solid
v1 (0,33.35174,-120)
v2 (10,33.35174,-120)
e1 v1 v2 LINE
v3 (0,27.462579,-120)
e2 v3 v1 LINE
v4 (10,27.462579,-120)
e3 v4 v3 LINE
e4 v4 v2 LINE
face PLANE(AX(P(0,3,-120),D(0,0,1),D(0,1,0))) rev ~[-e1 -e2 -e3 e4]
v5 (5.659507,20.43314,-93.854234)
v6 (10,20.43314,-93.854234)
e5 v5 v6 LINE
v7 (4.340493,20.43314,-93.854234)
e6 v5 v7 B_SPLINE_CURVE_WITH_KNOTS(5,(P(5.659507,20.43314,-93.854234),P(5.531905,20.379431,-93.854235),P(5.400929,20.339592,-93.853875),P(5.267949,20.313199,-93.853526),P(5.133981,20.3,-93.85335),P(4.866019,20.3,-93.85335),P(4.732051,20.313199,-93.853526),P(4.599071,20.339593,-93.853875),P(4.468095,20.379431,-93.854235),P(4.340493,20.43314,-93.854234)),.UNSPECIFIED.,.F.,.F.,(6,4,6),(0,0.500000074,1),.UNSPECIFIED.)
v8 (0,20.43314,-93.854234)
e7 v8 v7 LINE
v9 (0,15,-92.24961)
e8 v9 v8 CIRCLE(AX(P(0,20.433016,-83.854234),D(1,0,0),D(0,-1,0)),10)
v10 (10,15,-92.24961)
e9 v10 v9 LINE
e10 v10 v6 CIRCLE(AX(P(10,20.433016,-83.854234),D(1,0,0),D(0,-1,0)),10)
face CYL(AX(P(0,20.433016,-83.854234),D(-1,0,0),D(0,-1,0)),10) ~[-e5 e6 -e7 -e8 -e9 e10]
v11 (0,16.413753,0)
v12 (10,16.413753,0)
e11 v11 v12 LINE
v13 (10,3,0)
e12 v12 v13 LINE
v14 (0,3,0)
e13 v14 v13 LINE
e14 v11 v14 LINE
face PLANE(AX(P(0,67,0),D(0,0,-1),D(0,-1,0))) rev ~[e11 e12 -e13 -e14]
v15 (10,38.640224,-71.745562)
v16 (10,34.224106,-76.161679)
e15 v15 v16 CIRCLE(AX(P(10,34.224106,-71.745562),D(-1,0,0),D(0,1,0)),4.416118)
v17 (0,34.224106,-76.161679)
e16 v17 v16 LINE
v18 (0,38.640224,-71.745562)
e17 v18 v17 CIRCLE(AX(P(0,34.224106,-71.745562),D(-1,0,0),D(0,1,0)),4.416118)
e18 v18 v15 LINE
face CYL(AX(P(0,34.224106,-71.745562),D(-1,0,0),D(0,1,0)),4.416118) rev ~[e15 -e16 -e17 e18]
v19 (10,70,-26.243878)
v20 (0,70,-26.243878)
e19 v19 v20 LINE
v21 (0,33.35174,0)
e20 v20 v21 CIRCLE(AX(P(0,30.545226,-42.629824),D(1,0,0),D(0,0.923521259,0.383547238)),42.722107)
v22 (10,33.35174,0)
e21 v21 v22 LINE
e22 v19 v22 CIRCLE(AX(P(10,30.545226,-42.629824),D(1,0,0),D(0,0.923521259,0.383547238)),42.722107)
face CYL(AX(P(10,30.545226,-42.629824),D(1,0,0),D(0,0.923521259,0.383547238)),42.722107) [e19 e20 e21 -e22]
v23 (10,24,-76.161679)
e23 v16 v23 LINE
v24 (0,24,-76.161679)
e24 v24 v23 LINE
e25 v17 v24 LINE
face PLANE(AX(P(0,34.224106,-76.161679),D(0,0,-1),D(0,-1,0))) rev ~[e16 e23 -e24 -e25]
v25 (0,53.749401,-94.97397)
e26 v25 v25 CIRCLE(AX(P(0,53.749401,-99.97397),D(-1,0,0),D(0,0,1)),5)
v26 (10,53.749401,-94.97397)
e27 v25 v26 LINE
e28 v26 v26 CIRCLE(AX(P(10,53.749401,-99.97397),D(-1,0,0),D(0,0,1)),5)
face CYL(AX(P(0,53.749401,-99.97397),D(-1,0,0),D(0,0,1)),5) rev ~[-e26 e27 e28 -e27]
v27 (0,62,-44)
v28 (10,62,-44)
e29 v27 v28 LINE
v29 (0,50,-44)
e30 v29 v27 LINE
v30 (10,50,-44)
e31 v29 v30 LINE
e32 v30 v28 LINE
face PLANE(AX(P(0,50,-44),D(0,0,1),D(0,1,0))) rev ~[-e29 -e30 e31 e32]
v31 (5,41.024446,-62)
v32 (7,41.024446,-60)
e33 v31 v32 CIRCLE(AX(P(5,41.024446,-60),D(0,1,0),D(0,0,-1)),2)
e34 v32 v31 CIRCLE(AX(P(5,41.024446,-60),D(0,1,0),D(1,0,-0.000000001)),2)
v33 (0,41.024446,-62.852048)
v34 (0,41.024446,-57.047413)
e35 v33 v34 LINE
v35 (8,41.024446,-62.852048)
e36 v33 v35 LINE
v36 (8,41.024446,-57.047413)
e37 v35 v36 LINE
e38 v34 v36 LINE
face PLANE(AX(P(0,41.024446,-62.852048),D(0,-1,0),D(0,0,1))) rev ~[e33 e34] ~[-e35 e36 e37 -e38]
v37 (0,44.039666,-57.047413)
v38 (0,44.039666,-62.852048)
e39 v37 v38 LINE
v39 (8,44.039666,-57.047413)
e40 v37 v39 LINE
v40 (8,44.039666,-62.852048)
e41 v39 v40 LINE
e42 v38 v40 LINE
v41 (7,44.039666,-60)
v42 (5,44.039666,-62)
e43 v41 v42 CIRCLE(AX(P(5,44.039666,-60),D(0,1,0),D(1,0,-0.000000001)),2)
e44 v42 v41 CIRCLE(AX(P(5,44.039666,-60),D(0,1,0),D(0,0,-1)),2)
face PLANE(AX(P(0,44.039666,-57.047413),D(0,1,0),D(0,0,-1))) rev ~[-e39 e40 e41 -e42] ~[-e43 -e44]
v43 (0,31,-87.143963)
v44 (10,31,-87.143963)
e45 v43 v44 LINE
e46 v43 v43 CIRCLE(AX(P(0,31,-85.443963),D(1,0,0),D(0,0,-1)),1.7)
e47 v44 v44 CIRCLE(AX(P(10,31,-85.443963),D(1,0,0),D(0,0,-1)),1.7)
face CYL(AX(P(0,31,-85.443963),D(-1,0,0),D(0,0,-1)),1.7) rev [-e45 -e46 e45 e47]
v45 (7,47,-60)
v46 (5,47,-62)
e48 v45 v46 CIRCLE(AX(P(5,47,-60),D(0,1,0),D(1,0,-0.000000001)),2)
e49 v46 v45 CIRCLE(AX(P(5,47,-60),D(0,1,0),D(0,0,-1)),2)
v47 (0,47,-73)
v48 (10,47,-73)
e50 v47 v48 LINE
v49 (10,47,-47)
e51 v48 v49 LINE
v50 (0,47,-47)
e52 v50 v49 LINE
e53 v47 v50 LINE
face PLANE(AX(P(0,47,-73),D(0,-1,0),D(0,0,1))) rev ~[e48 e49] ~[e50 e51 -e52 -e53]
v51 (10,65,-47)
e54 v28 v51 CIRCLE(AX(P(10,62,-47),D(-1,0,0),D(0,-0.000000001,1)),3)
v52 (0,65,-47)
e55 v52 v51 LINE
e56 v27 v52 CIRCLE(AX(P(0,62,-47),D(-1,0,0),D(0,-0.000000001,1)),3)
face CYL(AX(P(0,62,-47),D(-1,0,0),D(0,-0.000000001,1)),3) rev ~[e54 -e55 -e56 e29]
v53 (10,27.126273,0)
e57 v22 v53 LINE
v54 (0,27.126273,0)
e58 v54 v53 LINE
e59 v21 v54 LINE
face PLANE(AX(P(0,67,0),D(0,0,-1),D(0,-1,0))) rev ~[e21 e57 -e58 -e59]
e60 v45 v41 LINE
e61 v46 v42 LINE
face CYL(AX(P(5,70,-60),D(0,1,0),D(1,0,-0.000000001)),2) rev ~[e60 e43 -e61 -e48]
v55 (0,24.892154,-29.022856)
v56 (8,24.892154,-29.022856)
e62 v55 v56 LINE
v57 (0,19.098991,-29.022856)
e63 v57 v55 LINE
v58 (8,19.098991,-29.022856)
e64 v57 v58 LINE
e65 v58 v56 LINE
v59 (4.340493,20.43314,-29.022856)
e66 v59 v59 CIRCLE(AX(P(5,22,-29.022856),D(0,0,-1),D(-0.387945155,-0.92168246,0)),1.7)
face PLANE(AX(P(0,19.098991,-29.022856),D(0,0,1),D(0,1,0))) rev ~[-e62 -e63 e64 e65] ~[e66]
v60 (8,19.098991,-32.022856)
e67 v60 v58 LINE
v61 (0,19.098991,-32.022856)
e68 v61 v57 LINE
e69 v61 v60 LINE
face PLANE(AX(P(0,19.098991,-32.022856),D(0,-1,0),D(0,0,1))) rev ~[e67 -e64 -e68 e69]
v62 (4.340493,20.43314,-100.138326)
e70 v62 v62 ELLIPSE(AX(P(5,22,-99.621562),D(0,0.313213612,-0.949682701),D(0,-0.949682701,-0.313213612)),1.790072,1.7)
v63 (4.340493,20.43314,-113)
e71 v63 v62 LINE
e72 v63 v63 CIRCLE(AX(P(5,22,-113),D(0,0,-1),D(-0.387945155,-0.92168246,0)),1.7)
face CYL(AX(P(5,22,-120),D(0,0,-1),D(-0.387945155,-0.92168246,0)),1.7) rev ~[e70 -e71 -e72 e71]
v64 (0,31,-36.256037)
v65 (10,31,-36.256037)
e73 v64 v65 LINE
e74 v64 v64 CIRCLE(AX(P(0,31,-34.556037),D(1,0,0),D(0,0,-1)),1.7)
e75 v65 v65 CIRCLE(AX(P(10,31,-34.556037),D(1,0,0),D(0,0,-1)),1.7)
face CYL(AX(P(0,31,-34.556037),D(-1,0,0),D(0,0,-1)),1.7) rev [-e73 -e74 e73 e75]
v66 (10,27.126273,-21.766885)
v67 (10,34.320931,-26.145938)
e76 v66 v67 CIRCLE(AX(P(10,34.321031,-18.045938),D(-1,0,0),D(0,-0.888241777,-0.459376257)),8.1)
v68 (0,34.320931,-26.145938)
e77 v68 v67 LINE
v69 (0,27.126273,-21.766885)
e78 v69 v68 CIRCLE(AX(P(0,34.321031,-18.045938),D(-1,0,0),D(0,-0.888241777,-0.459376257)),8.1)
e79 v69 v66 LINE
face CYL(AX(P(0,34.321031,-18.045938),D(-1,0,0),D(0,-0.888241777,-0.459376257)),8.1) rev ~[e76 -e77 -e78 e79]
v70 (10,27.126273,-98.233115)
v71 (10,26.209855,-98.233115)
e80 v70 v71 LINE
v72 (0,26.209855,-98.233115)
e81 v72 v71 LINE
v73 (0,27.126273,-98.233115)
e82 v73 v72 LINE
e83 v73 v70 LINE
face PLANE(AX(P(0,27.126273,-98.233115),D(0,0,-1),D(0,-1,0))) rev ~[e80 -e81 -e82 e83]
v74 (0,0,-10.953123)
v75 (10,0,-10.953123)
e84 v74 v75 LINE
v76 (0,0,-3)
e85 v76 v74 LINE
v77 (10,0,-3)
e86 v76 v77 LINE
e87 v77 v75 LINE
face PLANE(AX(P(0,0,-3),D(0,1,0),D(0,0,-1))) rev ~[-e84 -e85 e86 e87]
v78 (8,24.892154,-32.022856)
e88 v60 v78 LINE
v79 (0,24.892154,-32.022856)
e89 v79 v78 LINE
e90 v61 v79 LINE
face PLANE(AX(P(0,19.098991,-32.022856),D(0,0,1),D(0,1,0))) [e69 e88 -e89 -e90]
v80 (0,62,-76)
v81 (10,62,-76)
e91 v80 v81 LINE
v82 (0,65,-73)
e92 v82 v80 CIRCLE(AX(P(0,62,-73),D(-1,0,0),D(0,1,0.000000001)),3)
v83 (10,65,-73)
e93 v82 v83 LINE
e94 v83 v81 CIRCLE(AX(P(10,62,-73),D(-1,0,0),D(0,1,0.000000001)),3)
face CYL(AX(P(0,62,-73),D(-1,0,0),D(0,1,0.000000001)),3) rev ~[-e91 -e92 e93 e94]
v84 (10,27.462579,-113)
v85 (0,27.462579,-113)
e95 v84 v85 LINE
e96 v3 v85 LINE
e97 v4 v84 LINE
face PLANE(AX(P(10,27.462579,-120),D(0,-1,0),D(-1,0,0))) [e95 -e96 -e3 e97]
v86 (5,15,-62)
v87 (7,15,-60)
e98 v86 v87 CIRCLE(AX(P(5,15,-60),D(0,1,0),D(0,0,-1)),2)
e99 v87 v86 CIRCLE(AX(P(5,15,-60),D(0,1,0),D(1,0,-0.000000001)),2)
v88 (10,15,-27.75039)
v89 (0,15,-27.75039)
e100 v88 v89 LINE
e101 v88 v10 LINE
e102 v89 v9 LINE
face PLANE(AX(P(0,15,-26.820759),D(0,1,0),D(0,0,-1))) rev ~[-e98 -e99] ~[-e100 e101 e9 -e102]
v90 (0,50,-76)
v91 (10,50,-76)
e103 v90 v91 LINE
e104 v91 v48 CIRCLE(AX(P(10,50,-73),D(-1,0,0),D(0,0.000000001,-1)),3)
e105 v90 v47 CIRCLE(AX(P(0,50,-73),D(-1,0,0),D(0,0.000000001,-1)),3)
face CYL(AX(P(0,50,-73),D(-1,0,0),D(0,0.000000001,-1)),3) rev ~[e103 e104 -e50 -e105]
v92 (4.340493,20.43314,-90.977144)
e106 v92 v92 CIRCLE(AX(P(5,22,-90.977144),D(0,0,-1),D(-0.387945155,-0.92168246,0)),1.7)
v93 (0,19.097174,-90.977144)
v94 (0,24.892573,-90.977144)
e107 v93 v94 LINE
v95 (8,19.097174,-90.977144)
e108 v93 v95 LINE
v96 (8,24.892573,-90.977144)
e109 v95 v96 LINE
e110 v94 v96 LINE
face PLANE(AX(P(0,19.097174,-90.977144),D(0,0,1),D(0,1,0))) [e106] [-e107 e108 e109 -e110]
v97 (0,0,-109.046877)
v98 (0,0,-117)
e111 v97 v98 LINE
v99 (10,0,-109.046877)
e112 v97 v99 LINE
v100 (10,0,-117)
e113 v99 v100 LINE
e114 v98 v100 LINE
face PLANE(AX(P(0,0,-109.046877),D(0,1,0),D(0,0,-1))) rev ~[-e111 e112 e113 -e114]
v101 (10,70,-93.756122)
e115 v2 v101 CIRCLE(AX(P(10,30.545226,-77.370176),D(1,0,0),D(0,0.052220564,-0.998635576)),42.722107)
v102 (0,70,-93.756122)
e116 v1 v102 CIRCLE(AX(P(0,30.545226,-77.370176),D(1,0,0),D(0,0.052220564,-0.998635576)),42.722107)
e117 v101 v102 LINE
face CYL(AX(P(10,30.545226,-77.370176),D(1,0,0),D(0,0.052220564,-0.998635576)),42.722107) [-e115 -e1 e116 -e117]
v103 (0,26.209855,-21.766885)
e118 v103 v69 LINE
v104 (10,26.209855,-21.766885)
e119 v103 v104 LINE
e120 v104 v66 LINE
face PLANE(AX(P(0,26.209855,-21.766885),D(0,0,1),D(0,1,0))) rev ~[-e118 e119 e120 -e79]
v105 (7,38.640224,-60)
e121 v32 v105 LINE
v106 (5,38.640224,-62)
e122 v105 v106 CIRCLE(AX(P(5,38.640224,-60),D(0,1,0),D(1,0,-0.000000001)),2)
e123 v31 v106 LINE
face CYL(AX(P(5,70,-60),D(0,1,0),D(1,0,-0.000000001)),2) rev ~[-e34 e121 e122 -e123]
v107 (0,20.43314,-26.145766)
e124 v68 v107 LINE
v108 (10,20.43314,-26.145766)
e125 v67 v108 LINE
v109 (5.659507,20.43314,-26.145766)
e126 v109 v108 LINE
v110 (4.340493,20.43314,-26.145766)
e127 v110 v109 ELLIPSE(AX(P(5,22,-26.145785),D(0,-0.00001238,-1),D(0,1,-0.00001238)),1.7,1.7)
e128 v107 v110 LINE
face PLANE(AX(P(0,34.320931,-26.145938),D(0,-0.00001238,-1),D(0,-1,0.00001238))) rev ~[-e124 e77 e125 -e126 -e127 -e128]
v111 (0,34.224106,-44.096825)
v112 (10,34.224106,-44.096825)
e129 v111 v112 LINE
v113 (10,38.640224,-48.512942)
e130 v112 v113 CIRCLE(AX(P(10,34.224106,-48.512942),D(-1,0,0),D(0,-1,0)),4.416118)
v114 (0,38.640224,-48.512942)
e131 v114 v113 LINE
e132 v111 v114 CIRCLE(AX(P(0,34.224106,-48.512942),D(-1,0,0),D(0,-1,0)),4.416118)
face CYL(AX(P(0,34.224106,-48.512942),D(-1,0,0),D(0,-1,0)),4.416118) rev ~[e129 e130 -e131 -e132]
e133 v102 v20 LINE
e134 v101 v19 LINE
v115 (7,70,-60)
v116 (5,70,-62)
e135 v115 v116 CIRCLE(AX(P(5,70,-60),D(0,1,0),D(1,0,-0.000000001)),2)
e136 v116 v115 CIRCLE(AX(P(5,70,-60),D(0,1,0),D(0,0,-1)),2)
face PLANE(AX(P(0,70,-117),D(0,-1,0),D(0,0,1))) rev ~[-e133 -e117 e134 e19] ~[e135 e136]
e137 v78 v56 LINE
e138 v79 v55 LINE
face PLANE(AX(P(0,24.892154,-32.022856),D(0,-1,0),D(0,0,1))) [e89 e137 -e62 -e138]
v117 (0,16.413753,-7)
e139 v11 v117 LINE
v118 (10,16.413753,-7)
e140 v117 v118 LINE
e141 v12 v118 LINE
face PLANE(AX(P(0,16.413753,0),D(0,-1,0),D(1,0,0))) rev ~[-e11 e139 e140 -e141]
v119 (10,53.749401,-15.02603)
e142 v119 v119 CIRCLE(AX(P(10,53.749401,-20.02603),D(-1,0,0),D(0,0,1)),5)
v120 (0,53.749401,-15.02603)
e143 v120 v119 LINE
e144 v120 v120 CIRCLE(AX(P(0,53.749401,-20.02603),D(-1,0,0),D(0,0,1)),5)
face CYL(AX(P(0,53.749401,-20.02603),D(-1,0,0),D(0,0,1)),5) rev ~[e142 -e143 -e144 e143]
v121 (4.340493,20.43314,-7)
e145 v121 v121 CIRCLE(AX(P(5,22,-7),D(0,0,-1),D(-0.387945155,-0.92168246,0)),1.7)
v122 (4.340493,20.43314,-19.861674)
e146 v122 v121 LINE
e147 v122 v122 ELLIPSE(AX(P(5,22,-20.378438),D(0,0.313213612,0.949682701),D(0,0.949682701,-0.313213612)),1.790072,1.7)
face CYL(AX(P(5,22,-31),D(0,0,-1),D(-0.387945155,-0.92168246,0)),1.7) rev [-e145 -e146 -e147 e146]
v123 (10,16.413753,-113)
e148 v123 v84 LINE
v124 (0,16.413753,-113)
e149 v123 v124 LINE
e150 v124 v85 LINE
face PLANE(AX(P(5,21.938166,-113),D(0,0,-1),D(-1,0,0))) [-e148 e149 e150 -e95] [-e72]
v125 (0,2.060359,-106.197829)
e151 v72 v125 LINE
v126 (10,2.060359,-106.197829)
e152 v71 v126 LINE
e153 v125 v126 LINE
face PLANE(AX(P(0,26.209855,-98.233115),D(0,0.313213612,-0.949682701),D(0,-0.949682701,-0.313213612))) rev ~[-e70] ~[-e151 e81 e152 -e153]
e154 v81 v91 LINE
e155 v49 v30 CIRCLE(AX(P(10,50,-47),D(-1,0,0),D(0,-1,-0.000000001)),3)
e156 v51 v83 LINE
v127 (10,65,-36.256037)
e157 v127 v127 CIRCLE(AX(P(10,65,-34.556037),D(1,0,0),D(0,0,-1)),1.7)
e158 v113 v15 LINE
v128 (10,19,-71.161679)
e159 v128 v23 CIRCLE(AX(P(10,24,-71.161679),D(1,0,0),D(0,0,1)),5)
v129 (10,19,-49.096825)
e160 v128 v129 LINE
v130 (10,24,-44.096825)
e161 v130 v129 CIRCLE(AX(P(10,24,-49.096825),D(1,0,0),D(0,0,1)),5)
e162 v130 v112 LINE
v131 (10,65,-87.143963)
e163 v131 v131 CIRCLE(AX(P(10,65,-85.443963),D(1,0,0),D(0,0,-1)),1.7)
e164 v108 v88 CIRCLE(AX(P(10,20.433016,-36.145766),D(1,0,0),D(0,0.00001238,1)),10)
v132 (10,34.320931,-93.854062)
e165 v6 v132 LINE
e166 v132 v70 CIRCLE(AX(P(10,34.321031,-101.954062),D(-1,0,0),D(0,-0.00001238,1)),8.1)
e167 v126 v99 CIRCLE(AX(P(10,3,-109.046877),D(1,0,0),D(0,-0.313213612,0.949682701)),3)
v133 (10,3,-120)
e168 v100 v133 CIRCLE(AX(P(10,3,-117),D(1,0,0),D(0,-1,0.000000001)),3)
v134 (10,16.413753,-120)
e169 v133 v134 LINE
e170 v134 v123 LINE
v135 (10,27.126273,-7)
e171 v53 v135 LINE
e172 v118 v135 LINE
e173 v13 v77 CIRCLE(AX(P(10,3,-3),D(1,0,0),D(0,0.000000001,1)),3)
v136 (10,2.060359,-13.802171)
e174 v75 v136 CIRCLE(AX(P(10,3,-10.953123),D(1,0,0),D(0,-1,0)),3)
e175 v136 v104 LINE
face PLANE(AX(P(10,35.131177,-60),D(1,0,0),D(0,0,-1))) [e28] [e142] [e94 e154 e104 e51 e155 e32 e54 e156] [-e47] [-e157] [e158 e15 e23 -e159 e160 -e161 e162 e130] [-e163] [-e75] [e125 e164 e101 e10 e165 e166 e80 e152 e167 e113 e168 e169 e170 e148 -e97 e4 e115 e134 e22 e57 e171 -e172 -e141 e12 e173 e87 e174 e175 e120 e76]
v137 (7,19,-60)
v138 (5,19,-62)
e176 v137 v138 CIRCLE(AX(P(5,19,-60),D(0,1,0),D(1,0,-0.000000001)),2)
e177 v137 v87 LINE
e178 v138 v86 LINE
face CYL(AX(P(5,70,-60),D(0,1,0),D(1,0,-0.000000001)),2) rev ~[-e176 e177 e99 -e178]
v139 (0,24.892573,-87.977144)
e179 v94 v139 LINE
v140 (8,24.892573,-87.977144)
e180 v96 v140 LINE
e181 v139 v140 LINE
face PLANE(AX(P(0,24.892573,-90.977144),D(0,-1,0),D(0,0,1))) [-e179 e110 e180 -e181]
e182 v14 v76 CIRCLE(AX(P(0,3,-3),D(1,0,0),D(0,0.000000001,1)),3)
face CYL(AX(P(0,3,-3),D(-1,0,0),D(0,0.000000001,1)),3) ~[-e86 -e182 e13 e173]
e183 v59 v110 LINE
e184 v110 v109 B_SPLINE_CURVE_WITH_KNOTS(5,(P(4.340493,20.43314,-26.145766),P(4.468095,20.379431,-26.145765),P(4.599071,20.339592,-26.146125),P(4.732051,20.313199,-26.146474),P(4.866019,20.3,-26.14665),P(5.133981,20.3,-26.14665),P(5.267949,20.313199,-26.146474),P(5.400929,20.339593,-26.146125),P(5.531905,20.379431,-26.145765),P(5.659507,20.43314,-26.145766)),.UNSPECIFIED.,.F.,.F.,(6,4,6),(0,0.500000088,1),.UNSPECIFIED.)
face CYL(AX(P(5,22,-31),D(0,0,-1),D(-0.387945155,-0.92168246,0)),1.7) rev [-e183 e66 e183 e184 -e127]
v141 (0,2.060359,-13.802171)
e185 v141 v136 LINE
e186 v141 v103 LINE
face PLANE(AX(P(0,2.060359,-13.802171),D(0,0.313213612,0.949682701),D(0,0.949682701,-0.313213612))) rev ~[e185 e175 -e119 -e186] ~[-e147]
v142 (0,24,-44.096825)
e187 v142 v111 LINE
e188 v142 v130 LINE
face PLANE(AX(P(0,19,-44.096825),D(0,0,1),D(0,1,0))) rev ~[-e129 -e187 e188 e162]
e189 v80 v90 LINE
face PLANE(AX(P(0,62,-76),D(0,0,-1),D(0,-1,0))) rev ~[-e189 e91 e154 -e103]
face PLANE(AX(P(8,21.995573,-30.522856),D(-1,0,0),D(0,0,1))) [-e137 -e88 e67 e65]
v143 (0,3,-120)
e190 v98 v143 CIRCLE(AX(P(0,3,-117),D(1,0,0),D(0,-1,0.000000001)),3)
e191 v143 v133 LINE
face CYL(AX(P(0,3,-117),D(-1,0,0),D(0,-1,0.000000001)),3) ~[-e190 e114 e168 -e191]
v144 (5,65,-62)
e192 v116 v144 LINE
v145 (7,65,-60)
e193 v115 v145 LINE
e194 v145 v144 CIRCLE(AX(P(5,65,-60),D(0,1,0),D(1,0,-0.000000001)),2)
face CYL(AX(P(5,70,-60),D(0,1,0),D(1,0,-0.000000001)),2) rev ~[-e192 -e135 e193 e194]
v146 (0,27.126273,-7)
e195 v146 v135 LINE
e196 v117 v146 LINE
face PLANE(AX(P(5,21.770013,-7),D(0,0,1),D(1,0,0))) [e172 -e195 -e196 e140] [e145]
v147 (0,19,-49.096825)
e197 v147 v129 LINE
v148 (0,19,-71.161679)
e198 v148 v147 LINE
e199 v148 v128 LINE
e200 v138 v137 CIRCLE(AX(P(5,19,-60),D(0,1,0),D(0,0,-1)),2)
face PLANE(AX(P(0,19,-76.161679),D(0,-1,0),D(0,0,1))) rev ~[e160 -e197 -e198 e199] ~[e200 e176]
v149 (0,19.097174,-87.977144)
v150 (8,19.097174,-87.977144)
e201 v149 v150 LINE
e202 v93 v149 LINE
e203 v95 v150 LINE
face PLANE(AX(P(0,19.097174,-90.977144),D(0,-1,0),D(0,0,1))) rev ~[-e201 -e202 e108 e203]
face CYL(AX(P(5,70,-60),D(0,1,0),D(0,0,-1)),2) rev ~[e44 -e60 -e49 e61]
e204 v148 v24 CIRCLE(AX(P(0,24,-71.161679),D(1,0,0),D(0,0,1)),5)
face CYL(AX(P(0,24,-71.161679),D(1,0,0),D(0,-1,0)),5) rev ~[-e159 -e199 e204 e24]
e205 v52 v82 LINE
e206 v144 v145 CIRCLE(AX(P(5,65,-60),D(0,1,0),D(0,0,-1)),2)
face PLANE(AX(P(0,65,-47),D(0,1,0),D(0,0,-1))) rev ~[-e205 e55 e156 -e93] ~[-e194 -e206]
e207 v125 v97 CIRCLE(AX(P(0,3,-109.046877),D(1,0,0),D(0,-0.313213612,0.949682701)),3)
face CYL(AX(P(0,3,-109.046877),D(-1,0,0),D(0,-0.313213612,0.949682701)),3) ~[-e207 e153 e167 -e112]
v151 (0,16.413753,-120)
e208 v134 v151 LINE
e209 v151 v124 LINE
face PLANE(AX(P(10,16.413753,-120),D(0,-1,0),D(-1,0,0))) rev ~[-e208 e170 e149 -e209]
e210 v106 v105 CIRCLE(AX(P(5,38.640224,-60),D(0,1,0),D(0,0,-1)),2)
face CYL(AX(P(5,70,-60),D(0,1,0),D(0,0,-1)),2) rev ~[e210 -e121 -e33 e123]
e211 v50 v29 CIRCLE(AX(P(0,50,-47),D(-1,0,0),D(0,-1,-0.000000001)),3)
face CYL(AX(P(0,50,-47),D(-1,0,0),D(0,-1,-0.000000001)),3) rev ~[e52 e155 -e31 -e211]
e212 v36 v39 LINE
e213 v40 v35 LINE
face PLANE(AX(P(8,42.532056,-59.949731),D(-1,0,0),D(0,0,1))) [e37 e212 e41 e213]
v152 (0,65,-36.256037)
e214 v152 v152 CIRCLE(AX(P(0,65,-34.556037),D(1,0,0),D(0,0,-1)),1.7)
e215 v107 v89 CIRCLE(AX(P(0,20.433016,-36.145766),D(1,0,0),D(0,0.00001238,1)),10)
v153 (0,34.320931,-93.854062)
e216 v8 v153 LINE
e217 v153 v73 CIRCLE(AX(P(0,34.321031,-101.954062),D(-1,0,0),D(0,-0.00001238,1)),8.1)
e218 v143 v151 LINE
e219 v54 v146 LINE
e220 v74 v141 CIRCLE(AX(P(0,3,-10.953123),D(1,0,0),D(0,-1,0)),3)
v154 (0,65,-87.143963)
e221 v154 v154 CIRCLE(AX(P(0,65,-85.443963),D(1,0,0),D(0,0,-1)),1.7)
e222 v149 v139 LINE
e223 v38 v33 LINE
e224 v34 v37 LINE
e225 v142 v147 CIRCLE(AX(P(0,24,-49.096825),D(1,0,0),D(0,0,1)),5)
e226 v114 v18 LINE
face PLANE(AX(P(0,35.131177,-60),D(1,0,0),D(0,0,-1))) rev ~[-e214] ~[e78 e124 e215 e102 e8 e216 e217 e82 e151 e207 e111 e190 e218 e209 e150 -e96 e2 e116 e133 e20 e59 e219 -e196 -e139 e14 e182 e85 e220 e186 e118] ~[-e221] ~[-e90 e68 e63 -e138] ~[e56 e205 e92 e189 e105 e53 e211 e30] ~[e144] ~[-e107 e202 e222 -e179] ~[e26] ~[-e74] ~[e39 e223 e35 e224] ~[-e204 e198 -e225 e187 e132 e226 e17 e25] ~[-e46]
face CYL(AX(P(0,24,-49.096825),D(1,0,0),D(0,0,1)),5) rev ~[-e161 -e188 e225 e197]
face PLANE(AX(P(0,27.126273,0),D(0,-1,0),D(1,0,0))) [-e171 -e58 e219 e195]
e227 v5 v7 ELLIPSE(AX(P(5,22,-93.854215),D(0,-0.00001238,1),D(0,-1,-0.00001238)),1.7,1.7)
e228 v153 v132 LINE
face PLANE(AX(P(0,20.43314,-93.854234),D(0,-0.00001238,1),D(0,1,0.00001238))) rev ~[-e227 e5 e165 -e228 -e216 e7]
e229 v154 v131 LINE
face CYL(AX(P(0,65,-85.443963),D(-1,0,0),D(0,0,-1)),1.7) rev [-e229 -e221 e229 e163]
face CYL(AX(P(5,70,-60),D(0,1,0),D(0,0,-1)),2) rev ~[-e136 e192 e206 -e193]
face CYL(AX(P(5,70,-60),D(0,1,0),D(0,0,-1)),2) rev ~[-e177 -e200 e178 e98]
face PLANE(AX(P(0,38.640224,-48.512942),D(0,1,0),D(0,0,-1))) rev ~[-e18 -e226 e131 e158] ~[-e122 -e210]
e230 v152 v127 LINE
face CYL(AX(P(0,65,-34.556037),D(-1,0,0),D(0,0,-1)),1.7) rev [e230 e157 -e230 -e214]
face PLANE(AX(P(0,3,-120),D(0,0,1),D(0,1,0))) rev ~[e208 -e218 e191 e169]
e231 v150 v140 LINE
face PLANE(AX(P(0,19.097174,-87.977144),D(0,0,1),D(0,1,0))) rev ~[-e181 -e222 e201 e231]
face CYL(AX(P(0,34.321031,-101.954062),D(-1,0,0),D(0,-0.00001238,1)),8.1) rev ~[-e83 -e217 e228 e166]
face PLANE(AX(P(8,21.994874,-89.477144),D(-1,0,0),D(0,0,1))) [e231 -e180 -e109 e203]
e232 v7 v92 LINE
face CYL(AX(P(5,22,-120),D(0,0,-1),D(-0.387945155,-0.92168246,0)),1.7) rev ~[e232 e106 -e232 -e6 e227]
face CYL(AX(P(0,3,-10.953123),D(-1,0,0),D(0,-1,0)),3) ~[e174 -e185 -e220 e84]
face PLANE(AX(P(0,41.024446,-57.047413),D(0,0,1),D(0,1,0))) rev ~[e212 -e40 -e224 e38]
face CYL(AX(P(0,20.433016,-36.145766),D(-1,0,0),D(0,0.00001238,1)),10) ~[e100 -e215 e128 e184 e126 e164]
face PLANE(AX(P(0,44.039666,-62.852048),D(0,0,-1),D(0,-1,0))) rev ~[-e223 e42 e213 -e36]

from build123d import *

# Parameters (mm, degrees)
SKETCH_1_R                = 1.7
EXTRUDE_1_DEPTH           = 10
CUT_EXTRUDE_1_DEPTH       = 67
SKETCH_3_W                = 3
SKETCH_3_H                = 5.795399196
SKETCH_3_H_2              = 5.79316294
CUT_EXTRUDE_2_DEPTH       = 8
SKETCH_5_R                = 1.7
CUT_EXTRUDE_3_DEPTH       = 31
CUT_EXTRUDE_START         = -31
SKETCH_6_R                = 1.7
CUT_EXTRUDE_4_DEPTH       = 31
SKETCH_9_R                = 5
CUT_EXTRUDE_6_DEPTH       = 10
CUT_EXTRUDE_7_DEPTH       = 10
CUT_EXTRUDE_9_DEPTH       = 10
FILLET_1_R                = 5
CUT_EXTRUDE_10_DEPTH      = 140.283882779
CUT_EXTRUDE_10_DEPTH_BACK = 10
SKETCH_12_W               = 10
SKETCH_12_H               = 11.048825586
CUT_EXTRUDE_11_DEPTH      = 7
SKETCH_14_W               = 10
SKETCH_14_H               = 10.712519762
CUT_EXTRUDE_12_DEPTH      = 7


with BuildPart() as part:
    # Эскиз1 → Бобышка-Вытянуть1 (new body)
    with BuildSketch(Plane(origin=(0, 0, 0), x_dir=(0, 0, -1), z_dir=(1, 0, 0))):
        with BuildLine():
            Line((3, 0), (10.95312335, 0))
            ThreePointArc((10.95312335, 0), (12.711116168, 0.569061652), (13.802171454, 2.060359164))
            Line((13.802171454, 2.060359164), (21.766885307, 26.20985548))
            Line((21.766885307, 26.20985548), (21.766885307, 27.126272908))
            ThreePointArc((21.766885307, 27.126272908), (11.12679914, 38.53238769), (26.145937625, 34.320931027))
            Line((26.145937625, 34.320931027), (26.145765698, 20.433139819))
            ThreePointArc((26.145765698, 20.433139819), (29.074654117, 13.361991979), (36.145765697, 10.433016021))
            Line((36.145765697, 10.433016021), (83.854234303, 10.433016021))
            ThreePointArc((83.854234303, 10.433016021), (90.925345883, 13.361991979), (93.854234302, 20.433139819))
            Line((93.854234302, 20.433139819), (93.854062375, 34.320931027))
            ThreePointArc((93.854062375, 34.320931027), (108.87320086, 38.53238769), (98.233114693, 27.126272908))
            Line((98.233114693, 27.126272908), (98.233114693, 26.20985548))
            Line((98.233114693, 26.20985548), (106.197828546, 2.060359164))
            ThreePointArc((106.197828546, 2.060359164), (107.288883832, 0.569061652), (109.04687665, 0))
            Line((109.04687665, 0), (117, 0))
            ThreePointArc((117, 0), (119.121320344, 0.878679656), (120, 3))
            Line((120, 3), (120, 67))
            ThreePointArc((120, 67), (119.121320344, 69.121320344), (117, 70))
            Line((117, 70), (3, 70))
            ThreePointArc((3, 70), (0.878679656, 69.121320344), (0, 67))
            Line((0, 67), (0, 3))
            ThreePointArc((0, 3), (0.878679656, 0.878679656), (3, 0))
        make_face()
        with Locations((34.556037496, 65)):
            Circle(SKETCH_1_R, mode=Mode.SUBTRACT)
        with Locations((34.556037496, 31)):
            Circle(SKETCH_1_R, mode=Mode.SUBTRACT)
        with Locations((85.443962504, 31)):
            Circle(SKETCH_1_R, mode=Mode.SUBTRACT)
        with Locations((85.443962504, 65)):
            Circle(SKETCH_1_R, mode=Mode.SUBTRACT)
        with BuildLine():
            Line((47, 65), (73, 65))
            ThreePointArc((73, 65), (75.121320344, 64.121320344), (76, 62))
            Line((76, 62), (76, 50))
            ThreePointArc((76, 50), (75.121320344, 47.878679656), (73, 47))
            Line((73, 47), (47, 47))
            ThreePointArc((47, 47), (44.878679656, 47.878679656), (44, 50))
            Line((44, 50), (44, 62))
            ThreePointArc((44, 62), (44.878679656, 64.121320344), (47, 65))
        make_face(mode=Mode.SUBTRACT)
        with BuildLine():
            Line((48.512942473, 38.640223749), (71.745561711, 38.640223749))
            ThreePointArc((71.745561711, 38.640223749), (76.161679417, 34.224106042), (71.745561711, 29.807988336))
            Line((71.745561711, 29.807988336), (48.512942473, 29.807988336))
            ThreePointArc((48.512942473, 29.807988336), (44.096824767, 34.224106042), (48.512942473, 38.640223749))
        make_face(mode=Mode.SUBTRACT)
    extrude(amount=EXTRUDE_1_DEPTH)

    # Эскиз2 → Вырез-Вытянуть1 (cut)
    with BuildSketch(Plane(origin=(0, 70, 0), x_dir=(1, 0, 0), z_dir=(0, 1, 0))):
        with BuildLine():
            ThreePointArc((7, 60), (6.414213562, 61.414213562), (5, 62))
            Line((5, 62), (5, 60))
            Line((5, 60), (7, 60))
        make_face()
        with BuildLine():
            Line((5, 60), (5, 62))
            ThreePointArc((5, 62), (3.585786438, 58.585786438), (7, 60))
            Line((7, 60), (5, 60))
        make_face()
    extrude(amount=-CUT_EXTRUDE_1_DEPTH, mode=Mode.SUBTRACT)

    # Эскиз3 → Вырез-Вытянуть2 (cut)
    with BuildSketch(Plane.ZY):
        with Locations((-89.477143784, 21.994873796)):
            Rectangle(SKETCH_3_W, SKETCH_3_H)
        Polygon((-62.852047751, 44.039665997), (-62.852047751, 41.024446306), (-57.047413287, 41.024446306), (-57.047413287, 44.039665997), (-59.949730519, 44.039665997), align=None)
        with Locations((-30.522856216, 21.995572621)):
            Rectangle(SKETCH_3_W, SKETCH_3_H_2)
    extrude(amount=-CUT_EXTRUDE_2_DEPTH, mode=Mode.SUBTRACT)

    # Эскиз5 → Вырез-Вытянуть3 (cut)
    with BuildSketch(Plane(origin=(0, 0, -120), x_dir=(-1, 0, 0), z_dir=(0, 0, -1))):
        with Locations(Location((-5, 22, 0), (0, 0, 292.826701249))):
            Circle(SKETCH_5_R)
    extrude(amount=-CUT_EXTRUDE_3_DEPTH, mode=Mode.SUBTRACT)

    # Эскиз6 → Вырез-Вытянуть4 (cut)
    with BuildSketch(Plane.XY.offset(CUT_EXTRUDE_START)):
        with Locations(Location((5, 22, 0), (0, 0, 247.173298751))):
            Circle(SKETCH_6_R)
    extrude(amount=CUT_EXTRUDE_4_DEPTH, mode=Mode.SUBTRACT)

    # Эскиз9 → Вырез-Вытянуть6 (cut)
    with BuildSketch(Plane.ZY):
        with Locations((-99.973969782, 53.749400687)):
            Circle(SKETCH_9_R)
        with Locations((-20.026030218, 53.749400687)):
            Circle(SKETCH_9_R)
    extrude(amount=-CUT_EXTRUDE_6_DEPTH, mode=Mode.SUBTRACT)

    # Эскиз7 → Вырез-Вытянуть7 (cut)
    with BuildSketch(Plane.ZY):
        with BuildLine():
            ThreePointArc((-71.745561711, 29.807988336), (-74.868228487, 31.101439266), (-76.161679417, 34.224106042))
            Line((-76.161679417, 34.224106042), (-76.161679417, 19))
            Line((-76.161679417, 19), (-44.096824767, 19))
            Line((-44.096824767, 19), (-44.096824767, 34.224106042))
            ThreePointArc((-44.096824767, 34.224106042), (-45.390275697, 31.101439266), (-48.512942473, 29.807988336))
            Line((-48.512942473, 29.807988336), (-71.745561711, 29.807988336))
        make_face()
    extrude(amount=-CUT_EXTRUDE_7_DEPTH, mode=Mode.SUBTRACT)

    # Эскиз10 → Вырез-Вытянуть9 (cut)
    with BuildSketch(Plane.ZY):
        Polygon((-26.82075904, 15), (-60.129252092, 15), (-92.249610227, 15), (-93.165688325, 15), (-93.165688325, 8.625567354), (-26.82075904, 8.625567354), align=None)
    extrude(amount=-CUT_EXTRUDE_9_DEPTH, mode=Mode.SUBTRACT)

    # Скругление1
    fillet_1_edges = [part.edges().sort_by_distance(p)[0] for p in [
        (5, 19, -44.096824767),
        (5, 19, -76.161679417),
    ]]
    fillet(fillet_1_edges, radius=FILLET_1_R)

    # Эскиз11 → Вырез-Вытянуть10 (cut, two sides: drawn at the far end of the back side and taken through both)
    with BuildSketch(Plane.ZY.offset(-CUT_EXTRUDE_10_DEPTH_BACK)):
        with BuildLine():
            ThreePointArc((-120.033991766, 32.77619879), (-112.271772588, 55.183752349), (-93.756122218, 70))
            Line((-93.756122218, 70), (-105.662508764, 70))
            Line((-105.662508764, 70), (-120.092282854, 70))
            Line((-120.092282854, 70), (-120.033991766, 32.77619879))
        make_face()
        with BuildLine():
            Line((0.033991766, 32.77619879), (0.092282854, 70))
            Line((0.092282854, 70), (-14.337491236, 70))
            Line((-14.337491236, 70), (-26.243877782, 70))
            ThreePointArc((-26.243877782, 70), (-7.728227412, 55.183752349), (0.033991766, 32.77619879))
        make_face()
    extrude(amount=CUT_EXTRUDE_10_DEPTH + CUT_EXTRUDE_10_DEPTH_BACK, mode=Mode.SUBTRACT)

    # Эскиз12 → Вырез-Вытянуть11 (cut)
    with BuildSketch(Plane(origin=(0, 0, -120), x_dir=(-1, 0, 0), z_dir=(0, 0, -1))):
        with Locations((-5, 21.938165939)):
            Rectangle(SKETCH_12_W, SKETCH_12_H)
    extrude(amount=-CUT_EXTRUDE_11_DEPTH, mode=Mode.SUBTRACT)

    # Эскиз14 → Вырез-Вытянуть12 (cut)
    with BuildSketch(Plane.XY):
        with Locations((5, 21.770013027)):
            Rectangle(SKETCH_14_W, SKETCH_14_H)
    extrude(amount=-CUT_EXTRUDE_12_DEPTH, mode=Mode.SUBTRACT)


solid = part.part
